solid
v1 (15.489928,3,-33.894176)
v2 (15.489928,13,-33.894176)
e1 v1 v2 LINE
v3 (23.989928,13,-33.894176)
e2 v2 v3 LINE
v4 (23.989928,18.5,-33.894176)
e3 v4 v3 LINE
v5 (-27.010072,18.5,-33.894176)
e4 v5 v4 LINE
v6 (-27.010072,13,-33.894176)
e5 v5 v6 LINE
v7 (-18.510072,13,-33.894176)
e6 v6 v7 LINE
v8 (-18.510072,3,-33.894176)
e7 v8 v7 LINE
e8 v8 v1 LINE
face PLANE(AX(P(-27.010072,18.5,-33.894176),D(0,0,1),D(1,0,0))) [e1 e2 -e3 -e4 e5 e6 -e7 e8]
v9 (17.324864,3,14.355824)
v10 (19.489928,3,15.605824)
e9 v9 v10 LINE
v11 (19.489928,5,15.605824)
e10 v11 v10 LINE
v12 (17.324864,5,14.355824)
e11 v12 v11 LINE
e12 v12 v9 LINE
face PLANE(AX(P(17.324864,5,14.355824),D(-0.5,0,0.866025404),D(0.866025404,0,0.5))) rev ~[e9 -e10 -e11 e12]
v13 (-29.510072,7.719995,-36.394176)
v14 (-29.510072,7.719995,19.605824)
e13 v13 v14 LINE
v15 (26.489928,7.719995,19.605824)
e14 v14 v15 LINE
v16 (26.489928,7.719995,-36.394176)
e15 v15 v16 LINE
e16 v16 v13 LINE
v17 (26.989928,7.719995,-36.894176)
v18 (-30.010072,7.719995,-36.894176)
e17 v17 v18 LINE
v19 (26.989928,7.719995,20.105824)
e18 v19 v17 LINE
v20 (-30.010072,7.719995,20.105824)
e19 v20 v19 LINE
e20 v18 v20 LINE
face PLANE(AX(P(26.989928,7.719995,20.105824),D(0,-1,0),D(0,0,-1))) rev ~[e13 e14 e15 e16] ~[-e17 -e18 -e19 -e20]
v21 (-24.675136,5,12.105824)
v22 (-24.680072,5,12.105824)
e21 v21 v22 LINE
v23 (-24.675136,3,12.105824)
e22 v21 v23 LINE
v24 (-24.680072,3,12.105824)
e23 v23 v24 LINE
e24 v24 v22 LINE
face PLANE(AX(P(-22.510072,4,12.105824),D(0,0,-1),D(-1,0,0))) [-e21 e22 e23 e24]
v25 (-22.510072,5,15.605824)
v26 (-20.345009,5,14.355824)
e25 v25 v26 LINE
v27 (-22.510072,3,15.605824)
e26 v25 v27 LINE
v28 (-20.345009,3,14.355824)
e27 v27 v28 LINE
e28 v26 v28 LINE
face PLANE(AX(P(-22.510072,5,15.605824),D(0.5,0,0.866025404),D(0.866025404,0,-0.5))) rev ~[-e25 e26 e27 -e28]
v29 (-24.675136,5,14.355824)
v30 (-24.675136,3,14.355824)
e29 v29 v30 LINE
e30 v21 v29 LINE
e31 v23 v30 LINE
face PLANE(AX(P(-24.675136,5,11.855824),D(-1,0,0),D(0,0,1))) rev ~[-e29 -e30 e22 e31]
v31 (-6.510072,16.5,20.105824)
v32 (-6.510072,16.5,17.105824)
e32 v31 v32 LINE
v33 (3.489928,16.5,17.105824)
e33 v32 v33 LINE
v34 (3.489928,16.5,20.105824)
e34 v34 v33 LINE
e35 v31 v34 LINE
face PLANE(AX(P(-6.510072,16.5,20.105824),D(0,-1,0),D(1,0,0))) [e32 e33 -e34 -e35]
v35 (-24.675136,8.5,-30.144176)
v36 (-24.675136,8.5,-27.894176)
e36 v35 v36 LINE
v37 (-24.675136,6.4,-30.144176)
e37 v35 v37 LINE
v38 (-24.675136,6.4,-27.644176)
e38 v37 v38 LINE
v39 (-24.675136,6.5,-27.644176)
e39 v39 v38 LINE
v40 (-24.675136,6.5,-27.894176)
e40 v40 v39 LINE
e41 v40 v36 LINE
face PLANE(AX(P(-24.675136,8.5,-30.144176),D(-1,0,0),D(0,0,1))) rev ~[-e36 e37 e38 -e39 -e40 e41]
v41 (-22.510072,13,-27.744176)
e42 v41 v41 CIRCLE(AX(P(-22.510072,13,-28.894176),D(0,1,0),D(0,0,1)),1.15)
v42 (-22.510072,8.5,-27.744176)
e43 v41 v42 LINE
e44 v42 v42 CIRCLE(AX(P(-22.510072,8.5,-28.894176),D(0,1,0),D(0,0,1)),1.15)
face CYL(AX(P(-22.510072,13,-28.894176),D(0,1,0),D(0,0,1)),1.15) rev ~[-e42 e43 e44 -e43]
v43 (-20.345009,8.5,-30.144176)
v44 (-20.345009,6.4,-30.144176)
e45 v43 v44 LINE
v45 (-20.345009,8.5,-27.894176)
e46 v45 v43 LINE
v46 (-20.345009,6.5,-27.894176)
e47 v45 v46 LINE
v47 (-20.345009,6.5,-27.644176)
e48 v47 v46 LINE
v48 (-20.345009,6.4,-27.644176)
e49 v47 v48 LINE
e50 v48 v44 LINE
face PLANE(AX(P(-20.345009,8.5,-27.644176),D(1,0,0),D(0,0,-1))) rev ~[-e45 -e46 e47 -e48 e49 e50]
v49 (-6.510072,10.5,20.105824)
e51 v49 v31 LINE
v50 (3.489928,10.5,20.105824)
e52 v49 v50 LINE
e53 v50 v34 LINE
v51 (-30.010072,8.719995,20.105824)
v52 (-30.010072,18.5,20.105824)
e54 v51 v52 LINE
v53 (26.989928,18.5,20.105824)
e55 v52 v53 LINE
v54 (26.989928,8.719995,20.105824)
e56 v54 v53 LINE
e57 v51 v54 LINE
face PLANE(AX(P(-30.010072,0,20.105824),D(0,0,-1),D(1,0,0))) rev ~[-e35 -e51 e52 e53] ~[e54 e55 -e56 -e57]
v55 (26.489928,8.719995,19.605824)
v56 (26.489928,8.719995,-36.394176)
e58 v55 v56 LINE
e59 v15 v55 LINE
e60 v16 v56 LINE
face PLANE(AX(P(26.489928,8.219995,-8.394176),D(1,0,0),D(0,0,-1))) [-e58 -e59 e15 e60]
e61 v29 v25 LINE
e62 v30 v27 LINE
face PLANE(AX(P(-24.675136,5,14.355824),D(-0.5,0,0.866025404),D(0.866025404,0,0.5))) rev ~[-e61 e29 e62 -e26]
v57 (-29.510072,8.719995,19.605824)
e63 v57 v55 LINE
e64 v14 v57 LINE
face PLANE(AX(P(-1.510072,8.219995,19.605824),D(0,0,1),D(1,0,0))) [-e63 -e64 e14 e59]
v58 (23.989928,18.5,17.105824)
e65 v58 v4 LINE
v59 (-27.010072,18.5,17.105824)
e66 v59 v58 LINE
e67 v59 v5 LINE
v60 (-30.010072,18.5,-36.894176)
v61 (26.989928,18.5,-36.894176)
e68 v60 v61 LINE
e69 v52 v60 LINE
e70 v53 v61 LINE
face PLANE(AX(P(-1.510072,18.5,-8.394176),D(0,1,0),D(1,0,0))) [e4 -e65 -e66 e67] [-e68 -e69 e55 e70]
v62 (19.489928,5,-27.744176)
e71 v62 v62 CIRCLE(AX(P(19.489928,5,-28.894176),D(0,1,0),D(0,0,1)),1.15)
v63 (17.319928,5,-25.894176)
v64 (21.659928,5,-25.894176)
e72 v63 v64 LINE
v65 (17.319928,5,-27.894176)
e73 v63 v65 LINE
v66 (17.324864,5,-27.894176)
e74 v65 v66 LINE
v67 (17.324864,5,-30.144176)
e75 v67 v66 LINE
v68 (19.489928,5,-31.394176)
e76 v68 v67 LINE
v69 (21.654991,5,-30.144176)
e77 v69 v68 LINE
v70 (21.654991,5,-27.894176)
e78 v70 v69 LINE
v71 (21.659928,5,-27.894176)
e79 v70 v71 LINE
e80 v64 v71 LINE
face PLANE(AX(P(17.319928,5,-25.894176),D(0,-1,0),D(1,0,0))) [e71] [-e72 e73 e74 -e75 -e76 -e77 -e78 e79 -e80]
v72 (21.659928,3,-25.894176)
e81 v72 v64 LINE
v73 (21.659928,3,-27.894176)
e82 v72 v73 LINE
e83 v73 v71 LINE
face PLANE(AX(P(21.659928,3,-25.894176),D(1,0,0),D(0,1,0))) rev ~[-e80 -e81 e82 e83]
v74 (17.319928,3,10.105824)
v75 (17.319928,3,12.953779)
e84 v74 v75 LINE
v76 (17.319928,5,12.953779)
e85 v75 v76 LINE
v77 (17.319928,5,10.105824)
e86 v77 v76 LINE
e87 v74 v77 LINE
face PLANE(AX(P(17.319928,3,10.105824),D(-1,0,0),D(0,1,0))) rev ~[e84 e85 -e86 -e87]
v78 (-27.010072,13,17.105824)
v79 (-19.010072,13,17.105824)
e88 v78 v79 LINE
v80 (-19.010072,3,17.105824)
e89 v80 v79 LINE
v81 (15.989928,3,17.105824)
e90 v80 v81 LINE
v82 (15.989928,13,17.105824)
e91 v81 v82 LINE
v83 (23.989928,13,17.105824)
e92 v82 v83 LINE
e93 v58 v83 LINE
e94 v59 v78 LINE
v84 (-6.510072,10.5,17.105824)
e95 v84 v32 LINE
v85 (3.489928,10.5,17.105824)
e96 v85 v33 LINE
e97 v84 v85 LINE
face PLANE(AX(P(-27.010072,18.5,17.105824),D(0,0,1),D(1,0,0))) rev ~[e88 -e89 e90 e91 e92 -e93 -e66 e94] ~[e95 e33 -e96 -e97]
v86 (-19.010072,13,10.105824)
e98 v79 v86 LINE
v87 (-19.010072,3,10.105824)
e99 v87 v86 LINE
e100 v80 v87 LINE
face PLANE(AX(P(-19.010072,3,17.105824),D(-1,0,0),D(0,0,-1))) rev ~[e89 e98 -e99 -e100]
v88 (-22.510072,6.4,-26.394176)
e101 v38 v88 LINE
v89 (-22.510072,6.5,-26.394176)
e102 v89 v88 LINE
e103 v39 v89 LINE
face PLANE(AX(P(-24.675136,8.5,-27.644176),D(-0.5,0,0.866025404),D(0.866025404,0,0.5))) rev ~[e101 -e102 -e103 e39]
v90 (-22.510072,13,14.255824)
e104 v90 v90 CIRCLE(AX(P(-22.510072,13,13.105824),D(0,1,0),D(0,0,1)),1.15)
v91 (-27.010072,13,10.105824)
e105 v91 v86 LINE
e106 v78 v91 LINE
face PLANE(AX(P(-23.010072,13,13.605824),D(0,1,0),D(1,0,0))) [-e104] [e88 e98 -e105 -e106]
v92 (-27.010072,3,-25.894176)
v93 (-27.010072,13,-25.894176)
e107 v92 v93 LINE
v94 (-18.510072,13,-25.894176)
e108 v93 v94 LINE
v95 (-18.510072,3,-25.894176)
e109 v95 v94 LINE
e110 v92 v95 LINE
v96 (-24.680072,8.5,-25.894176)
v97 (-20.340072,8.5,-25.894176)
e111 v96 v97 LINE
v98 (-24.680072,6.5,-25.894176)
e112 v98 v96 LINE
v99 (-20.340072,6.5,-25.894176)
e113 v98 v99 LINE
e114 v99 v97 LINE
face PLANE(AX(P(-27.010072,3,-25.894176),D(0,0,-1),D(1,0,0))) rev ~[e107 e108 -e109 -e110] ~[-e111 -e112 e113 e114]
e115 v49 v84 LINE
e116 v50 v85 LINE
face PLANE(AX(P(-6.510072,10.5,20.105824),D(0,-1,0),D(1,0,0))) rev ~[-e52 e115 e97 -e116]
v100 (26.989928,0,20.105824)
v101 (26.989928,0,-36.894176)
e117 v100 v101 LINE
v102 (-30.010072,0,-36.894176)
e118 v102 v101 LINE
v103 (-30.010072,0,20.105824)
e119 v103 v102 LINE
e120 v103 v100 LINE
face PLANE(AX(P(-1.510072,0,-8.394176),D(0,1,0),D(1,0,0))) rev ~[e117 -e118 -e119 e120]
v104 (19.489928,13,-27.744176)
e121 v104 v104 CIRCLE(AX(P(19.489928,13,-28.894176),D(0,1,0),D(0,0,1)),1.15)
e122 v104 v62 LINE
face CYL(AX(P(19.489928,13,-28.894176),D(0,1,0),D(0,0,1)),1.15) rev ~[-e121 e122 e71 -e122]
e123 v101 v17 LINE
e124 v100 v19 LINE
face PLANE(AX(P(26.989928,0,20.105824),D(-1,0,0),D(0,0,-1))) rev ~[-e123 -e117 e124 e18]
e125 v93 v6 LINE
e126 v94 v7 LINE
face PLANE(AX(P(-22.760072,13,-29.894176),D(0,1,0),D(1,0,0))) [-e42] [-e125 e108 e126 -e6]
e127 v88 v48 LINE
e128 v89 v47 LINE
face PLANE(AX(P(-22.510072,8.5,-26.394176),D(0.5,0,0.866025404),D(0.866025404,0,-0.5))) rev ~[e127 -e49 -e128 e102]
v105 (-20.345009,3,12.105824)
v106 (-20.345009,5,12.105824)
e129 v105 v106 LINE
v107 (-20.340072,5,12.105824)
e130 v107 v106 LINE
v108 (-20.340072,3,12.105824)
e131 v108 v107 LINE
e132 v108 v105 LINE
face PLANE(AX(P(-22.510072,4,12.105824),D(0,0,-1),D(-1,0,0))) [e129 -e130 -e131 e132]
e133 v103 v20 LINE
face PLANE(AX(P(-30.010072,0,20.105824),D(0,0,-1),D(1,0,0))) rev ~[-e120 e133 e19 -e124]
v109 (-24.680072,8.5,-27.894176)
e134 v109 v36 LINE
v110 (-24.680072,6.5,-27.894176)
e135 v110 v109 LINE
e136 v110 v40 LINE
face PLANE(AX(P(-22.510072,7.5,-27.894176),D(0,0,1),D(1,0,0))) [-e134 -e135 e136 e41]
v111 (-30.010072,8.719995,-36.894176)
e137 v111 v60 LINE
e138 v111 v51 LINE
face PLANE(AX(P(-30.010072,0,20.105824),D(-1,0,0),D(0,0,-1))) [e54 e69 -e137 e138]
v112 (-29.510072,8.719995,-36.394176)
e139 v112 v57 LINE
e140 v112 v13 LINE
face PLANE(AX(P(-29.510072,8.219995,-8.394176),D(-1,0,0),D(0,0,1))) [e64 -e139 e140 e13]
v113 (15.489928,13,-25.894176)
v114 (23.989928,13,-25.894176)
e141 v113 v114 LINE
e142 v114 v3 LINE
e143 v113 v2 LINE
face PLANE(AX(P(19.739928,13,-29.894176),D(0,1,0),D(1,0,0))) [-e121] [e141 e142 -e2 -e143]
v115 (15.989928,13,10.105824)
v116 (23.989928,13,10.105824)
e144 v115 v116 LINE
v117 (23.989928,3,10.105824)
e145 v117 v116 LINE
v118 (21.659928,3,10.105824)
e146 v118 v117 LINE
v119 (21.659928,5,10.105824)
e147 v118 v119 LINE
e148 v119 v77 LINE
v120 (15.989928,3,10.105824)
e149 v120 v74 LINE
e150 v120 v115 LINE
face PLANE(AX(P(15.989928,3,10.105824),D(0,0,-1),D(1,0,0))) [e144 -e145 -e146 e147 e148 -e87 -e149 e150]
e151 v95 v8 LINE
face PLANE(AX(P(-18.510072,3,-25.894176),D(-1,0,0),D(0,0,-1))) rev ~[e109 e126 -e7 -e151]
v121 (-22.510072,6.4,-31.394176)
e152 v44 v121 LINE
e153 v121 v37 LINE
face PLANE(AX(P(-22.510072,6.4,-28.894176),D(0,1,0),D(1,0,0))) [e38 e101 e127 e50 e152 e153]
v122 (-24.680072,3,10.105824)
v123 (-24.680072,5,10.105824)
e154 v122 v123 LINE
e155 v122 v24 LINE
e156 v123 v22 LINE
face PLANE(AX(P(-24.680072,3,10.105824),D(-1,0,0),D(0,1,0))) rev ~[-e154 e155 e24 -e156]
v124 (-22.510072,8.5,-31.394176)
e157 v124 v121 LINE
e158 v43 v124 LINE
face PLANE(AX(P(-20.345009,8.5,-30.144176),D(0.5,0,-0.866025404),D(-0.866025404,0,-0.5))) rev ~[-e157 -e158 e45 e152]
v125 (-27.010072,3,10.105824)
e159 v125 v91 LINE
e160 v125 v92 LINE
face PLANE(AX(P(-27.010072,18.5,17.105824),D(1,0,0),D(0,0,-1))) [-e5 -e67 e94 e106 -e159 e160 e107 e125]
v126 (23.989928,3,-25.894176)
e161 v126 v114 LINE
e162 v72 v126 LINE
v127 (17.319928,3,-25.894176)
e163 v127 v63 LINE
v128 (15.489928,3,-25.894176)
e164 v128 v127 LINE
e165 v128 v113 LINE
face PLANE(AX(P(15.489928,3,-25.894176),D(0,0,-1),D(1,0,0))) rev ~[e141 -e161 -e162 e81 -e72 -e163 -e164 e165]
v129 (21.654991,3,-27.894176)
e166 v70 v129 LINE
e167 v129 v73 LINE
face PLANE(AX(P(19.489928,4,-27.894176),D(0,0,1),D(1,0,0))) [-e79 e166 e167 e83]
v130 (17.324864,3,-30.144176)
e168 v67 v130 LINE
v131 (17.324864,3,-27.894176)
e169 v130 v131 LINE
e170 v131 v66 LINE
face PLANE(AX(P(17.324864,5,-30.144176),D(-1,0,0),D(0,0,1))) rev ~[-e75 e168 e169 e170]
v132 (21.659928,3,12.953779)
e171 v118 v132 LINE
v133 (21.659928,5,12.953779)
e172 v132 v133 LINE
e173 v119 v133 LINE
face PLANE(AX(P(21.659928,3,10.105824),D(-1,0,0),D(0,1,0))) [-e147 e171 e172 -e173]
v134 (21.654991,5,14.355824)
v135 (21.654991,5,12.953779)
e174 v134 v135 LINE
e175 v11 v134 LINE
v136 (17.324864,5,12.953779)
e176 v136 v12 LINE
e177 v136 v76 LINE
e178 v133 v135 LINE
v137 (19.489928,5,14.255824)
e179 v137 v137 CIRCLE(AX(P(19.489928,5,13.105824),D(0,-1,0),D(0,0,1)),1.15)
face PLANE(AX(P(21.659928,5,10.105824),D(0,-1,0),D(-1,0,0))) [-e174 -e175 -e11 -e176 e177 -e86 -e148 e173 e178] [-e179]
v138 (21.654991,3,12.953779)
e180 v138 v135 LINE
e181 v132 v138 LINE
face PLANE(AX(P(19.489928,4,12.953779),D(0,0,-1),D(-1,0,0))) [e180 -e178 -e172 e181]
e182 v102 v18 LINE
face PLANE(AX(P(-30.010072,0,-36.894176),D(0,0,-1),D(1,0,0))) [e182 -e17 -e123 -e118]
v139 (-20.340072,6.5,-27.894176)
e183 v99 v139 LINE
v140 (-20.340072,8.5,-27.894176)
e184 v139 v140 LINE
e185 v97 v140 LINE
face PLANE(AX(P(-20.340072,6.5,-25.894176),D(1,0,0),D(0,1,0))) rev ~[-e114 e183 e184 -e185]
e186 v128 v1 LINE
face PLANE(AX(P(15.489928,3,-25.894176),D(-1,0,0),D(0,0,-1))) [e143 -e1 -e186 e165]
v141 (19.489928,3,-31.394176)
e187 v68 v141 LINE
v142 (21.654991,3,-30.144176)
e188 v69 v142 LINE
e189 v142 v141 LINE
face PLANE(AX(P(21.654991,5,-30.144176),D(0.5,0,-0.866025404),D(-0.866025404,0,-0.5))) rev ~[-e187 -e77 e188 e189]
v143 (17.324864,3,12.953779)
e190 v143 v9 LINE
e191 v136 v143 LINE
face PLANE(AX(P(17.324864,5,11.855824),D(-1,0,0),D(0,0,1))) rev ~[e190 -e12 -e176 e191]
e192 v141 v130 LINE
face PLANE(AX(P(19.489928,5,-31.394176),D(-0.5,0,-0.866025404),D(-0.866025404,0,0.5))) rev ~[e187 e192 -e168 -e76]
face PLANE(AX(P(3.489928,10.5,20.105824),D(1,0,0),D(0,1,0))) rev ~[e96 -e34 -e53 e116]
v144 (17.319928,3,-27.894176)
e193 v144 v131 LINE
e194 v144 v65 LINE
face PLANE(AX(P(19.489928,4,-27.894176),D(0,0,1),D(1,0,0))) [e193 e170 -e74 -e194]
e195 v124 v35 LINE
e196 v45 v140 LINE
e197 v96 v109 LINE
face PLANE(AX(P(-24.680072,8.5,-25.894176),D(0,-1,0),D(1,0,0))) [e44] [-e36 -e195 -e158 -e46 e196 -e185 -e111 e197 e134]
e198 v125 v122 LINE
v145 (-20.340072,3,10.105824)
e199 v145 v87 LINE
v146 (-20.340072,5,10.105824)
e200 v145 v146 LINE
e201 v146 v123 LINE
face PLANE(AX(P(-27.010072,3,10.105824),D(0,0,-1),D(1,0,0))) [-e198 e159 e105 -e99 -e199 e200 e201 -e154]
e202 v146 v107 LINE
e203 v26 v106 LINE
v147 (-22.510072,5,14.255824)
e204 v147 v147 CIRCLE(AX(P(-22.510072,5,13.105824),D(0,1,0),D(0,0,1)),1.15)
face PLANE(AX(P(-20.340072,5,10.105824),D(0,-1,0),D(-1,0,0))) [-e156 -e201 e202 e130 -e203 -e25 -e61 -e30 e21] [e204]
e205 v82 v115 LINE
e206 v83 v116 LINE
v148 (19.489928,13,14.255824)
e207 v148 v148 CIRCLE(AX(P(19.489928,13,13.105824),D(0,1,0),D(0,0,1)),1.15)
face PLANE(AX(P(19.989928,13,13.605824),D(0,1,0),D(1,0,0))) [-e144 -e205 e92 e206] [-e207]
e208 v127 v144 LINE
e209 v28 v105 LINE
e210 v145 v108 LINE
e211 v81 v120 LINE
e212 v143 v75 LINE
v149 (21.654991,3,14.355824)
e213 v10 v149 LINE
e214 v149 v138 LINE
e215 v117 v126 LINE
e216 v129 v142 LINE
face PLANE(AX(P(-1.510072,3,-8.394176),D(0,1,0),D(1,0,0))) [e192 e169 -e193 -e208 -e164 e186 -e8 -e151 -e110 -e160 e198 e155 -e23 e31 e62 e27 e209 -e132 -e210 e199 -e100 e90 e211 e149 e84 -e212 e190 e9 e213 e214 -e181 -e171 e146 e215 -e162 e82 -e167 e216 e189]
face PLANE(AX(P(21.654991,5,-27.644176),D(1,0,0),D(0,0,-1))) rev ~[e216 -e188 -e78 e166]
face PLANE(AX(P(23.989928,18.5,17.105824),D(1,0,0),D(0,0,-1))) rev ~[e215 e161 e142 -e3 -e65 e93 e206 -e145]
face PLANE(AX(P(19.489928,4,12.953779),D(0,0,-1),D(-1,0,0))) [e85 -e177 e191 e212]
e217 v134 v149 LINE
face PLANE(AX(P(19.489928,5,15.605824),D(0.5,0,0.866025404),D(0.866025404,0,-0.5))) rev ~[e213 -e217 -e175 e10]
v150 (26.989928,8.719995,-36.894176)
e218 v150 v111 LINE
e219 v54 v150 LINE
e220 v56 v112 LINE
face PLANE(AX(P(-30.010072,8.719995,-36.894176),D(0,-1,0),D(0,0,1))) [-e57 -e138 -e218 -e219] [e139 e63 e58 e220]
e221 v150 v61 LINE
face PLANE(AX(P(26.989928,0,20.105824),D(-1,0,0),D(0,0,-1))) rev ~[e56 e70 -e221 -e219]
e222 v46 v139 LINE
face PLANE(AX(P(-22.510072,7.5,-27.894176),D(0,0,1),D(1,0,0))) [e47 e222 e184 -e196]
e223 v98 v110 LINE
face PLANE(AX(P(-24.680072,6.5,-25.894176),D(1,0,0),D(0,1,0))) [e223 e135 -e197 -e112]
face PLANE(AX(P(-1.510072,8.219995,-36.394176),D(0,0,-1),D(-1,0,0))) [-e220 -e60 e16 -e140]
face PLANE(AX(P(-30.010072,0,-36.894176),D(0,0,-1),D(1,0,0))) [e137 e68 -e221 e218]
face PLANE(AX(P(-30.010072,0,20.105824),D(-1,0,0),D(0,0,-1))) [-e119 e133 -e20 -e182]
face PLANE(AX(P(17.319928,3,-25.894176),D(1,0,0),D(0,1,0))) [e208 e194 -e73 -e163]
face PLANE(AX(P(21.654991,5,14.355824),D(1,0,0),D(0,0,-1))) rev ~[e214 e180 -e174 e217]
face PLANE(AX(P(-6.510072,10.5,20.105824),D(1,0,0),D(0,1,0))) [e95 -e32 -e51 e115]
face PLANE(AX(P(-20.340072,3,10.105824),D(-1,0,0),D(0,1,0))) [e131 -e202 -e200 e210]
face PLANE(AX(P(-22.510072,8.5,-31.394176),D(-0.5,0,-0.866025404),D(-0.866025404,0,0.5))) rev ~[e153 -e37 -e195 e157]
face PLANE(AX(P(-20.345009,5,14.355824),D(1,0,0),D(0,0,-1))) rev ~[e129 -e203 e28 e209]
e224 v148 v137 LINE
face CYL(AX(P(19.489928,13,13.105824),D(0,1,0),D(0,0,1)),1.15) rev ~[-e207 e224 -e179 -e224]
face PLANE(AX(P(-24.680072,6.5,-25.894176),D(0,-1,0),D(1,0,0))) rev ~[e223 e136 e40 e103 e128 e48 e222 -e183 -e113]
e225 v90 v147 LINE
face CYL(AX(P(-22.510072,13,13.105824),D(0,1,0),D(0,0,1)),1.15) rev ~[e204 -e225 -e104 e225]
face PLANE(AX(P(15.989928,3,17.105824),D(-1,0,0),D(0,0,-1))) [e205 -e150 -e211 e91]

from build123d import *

# Parameters (mm, degrees)
ESQUISSE1_W              = 57
ESQUISSE1_H              = 57
BOSS_EXTRU_1_DEPTH       = 18.5
ESQUISSE2_W              = 51
ESQUISSE2_H              = 51
ENL_V_MAT_EXTRU_1_DEPTH  = 15.5
ESQUISSE4_W              = 8.5
ESQUISSE4_H              = 8
BOSS_EXTRU_2_DEPTH       = 10
ESQUISSE5_W              = 8.5
ESQUISSE5_H              = 8
BOSS_EXTRU_3_DEPTH       = 10
ESQUISSE6_W              = 8
ESQUISSE6_H              = 7
BOSS_EXTRU_4_DEPTH       = 10
ESQUISSE7_W              = 8
ESQUISSE7_H              = 7
BOSS_EXTRU_5_DEPTH       = 10
ESQUISSE8_R              = 1.15
ENL_V_MAT_EXTRU_2_DEPTH  = 10
ESQUISSE9_R              = 1.15
ENL_V_MAT_EXTRU_3_DEPTH  = 10
ESQUISSE16_R             = 1.15
ENL_V_MAT_EXTRU_9_DEPTH  = 6.6
ESQUISSE17_R             = 1.15
ENL_V_MAT_EXTRU_10_DEPTH = 10
ESQUISSE21_W             = 10
ESQUISSE21_H             = 6
ENL_V_MAT_EXTRU_14_DEPTH = 3
ENL_V_START              = -8
ENL_V_MAT_EXTRU_18_DEPTH = 2
ENL_V_MAT_EXTRU_20_DEPTH = 2
ESQUISSE26_W             = 4.34
ESQUISSE26_H             = 2
ENL_V_MAT_EXTRU_21_DEPTH = 2.847955181
ENL_V_START_2            = -4.5
ENL_V_MAT_EXTRU_22_DEPTH = 2.1
ENL_V_MAT_EXTRU_24_DEPTH = 2
ESQUISSE23_W             = 4.34
ESQUISSE23_H             = 2
ENL_V_MAT_EXTRU_26_DEPTH = 2
ESQUISSE31_W             = 4.34
ESQUISSE31_H             = 2
ENL_V_MAT_EXTRU_27_DEPTH = 2
ESQUISSE30_W             = 4.34
ESQUISSE30_H             = 2
ENL_V_MAT_EXTRU_28_DEPTH = 2
ESQUISSE32_W             = 57
ESQUISSE32_H             = 1
ENL_V_MAT_EXTRU_29_DEPTH = 0.5
ESQUISSE33_W             = 57
ESQUISSE33_H             = 1
ENL_V_MAT_EXTRU_30_DEPTH = 0.5
ESQUISSE34_W             = 57
ESQUISSE34_H             = 1
ENL_V_MAT_EXTRU_31_DEPTH = 0.5
ESQUISSE35_W             = 57
ESQUISSE35_H             = 1
ENL_V_MAT_EXTRU_32_DEPTH = 0.5


with BuildPart() as part:
    # Esquisse1 → Boss.-Extru.1 (new body)
    with BuildSketch(Plane(origin=(0, 0, 0), x_dir=(1, 0, 0), z_dir=(0, 1, 0))):
        with Locations((-1.510072399, 8.394175698)):
            Rectangle(ESQUISSE1_W, ESQUISSE1_H)
    extrude(amount=BOSS_EXTRU_1_DEPTH)

    # Esquisse2 → Enlèv. mat.-Extru.1 (cut)
    with BuildSketch(Plane(origin=(0, 18.5, 0), x_dir=(1, 0, 0), z_dir=(0, 1, 0))):
        with Locations((-1.510072399, 8.394175698)):
            Rectangle(ESQUISSE2_W, ESQUISSE2_H)
    extrude(amount=-ENL_V_MAT_EXTRU_1_DEPTH, mode=Mode.SUBTRACT)

    # Esquisse4 → Boss.-Extru.2 (add)
    with BuildSketch(Plane(origin=(0, 3, 0), x_dir=(1, 0, 0), z_dir=(0, 1, 0))):
        with Locations((-22.760072399, 29.894175698)):
            Rectangle(ESQUISSE4_W, ESQUISSE4_H)
    extrude(amount=BOSS_EXTRU_2_DEPTH)

    # Esquisse5 → Boss.-Extru.3 (add)
    with BuildSketch(Plane(origin=(0, 3, 0), x_dir=(1, 0, 0), z_dir=(0, 1, 0))):
        with Locations((19.739927601, 29.894175698)):
            Rectangle(ESQUISSE5_W, ESQUISSE5_H)
    extrude(amount=BOSS_EXTRU_3_DEPTH)

    # Esquisse6 → Boss.-Extru.4 (add)
    with BuildSketch(Plane(origin=(0, 3, 0), x_dir=(1, 0, 0), z_dir=(0, 1, 0))):
        with Locations((19.989927601, -13.605824302)):
            Rectangle(ESQUISSE6_W, ESQUISSE6_H)
    extrude(amount=BOSS_EXTRU_4_DEPTH)

    # Esquisse7 → Boss.-Extru.5 (add)
    with BuildSketch(Plane(origin=(0, 3, 0), x_dir=(1, 0, 0), z_dir=(0, 1, 0))):
        with Locations((-23.010072399, -13.605824302)):
            Rectangle(ESQUISSE7_W, ESQUISSE7_H)
    extrude(amount=BOSS_EXTRU_5_DEPTH)

    # Esquisse8 → Enlèv. mat.-Extru.2 (cut)
    with BuildSketch(Plane(origin=(0, 13, 0), x_dir=(1, 0, 0), z_dir=(0, 1, 0))):
        with Locations(Location((19.489927601, -13.105824302, 0), (0, 0, 270))):
            Circle(ESQUISSE8_R)
    extrude(amount=-ENL_V_MAT_EXTRU_2_DEPTH, mode=Mode.SUBTRACT)

    # Esquisse9 → Enlèv. mat.-Extru.3 (cut)
    with BuildSketch(Plane(origin=(0, 13, 0), x_dir=(1, 0, 0), z_dir=(0, 1, 0))):
        with Locations(Location((-22.510072399, -13.105824302, 0), (0, 0, 270))):
            Circle(ESQUISSE9_R)
    extrude(amount=-ENL_V_MAT_EXTRU_3_DEPTH, mode=Mode.SUBTRACT)

    # Esquisse16 → Enlèv. mat.-Extru.9 (cut)
    with BuildSketch(Plane(origin=(0, 13, 0), x_dir=(1, 0, 0), z_dir=(0, 1, 0))):
        with Locations(Location((-22.510072399, 28.894175698, 0), (0, 0, 270))):
            Circle(ESQUISSE16_R)
    extrude(amount=-ENL_V_MAT_EXTRU_9_DEPTH, mode=Mode.SUBTRACT)

    # Esquisse17 → Enlèv. mat.-Extru.10 (cut)
    with BuildSketch(Plane(origin=(0, 13, 0), x_dir=(1, 0, 0), z_dir=(0, 1, 0))):
        with Locations(Location((19.489927601, 28.894175698, 0), (0, 0, 270))):
            Circle(ESQUISSE17_R)
    extrude(amount=-ENL_V_MAT_EXTRU_10_DEPTH, mode=Mode.SUBTRACT)

    # Esquisse21 → Enlèv. mat.-Extru.14 (cut)
    with BuildSketch(Plane.XY.offset(20.105824302)):
        with Locations((-1.510072399, 13.5)):
            Rectangle(ESQUISSE21_W, ESQUISSE21_H)
    extrude(amount=-ENL_V_MAT_EXTRU_14_DEPTH, mode=Mode.SUBTRACT)

    # Esquisse24 → Enlèv. mat.-Extru.18 (cut)
    with BuildSketch(Plane(origin=(0, 13, 0), x_dir=(1, 0, 0), z_dir=(0, 1, 0)).offset(ENL_V_START)):
        Polygon((19.489927601, 26.394175698), (21.65499111, 27.644175698), (21.65499111, 30.144175698), (19.489927601, 31.394175698), (17.324864091, 30.144175698), (17.324864091, 27.644175698), align=None)
    extrude(amount=-ENL_V_MAT_EXTRU_18_DEPTH, mode=Mode.SUBTRACT)

    # Esquisse25 → Enlèv. mat.-Extru.20 (cut)
    with BuildSketch(Plane(origin=(0, 13, 0), x_dir=(1, 0, 0), z_dir=(0, 1, 0)).offset(ENL_V_START)):
        Polygon((17.324864091, -11.855824302), (17.324864091, -14.355824302), (19.489927601, -15.605824302), (21.65499111, -14.355824302), (21.65499111, -11.855824302), (19.489927601, -10.605824302), align=None)
    extrude(amount=-ENL_V_MAT_EXTRU_20_DEPTH, mode=Mode.SUBTRACT)

    # Esquisse26 → Enlèv. mat.-Extru.21 (cut)
    with BuildSketch(Plane(origin=(0, 0, 10.105824302), x_dir=(-1, 0, 0), z_dir=(0, 0, -1))):
        with Locations((-19.489927601, 4)):
            Rectangle(ESQUISSE26_W, ESQUISSE26_H)
    extrude(amount=-ENL_V_MAT_EXTRU_21_DEPTH, mode=Mode.SUBTRACT)

    # Esquisse27 → Enlèv. mat.-Extru.22 (cut)
    with BuildSketch(Plane(origin=(0, 13, 0), x_dir=(1, 0, 0), z_dir=(0, 1, 0)).offset(ENL_V_START_2)):
        Polygon((-20.34500889, 27.644175698), (-20.34500889, 30.144175698), (-22.510072399, 31.394175698), (-24.675135909, 30.144175698), (-24.675135909, 27.644175698), (-22.510072399, 26.394175698), align=None)
    extrude(amount=-ENL_V_MAT_EXTRU_22_DEPTH, mode=Mode.SUBTRACT)

    # Esquisse29 → Enlèv. mat.-Extru.24 (cut)
    with BuildSketch(Plane(origin=(0, 13, 0), x_dir=(1, 0, 0), z_dir=(0, 1, 0)).offset(ENL_V_START)):
        Polygon((-20.34500889, -11.855824302), (-22.510072399, -10.605824302), (-24.675135909, -11.855824302), (-24.675135909, -14.355824302), (-22.510072399, -15.605824302), (-20.34500889, -14.355824302), align=None)
    extrude(amount=-ENL_V_MAT_EXTRU_24_DEPTH, mode=Mode.SUBTRACT)

    # Esquisse23 → Enlèv. mat.-Extru.26 (cut)
    with BuildSketch(Plane.XY.offset(-25.894175698)):
        with Locations((19.489927601, 4)):
            Rectangle(ESQUISSE23_W, ESQUISSE23_H)
    extrude(amount=-ENL_V_MAT_EXTRU_26_DEPTH, mode=Mode.SUBTRACT)

    # Esquisse31 → Enlèv. mat.-Extru.27 (cut)
    with BuildSketch(Plane.XY.offset(-25.894175698)):
        with Locations((-22.510072399, 7.5)):
            Rectangle(ESQUISSE31_W, ESQUISSE31_H)
    extrude(amount=-ENL_V_MAT_EXTRU_27_DEPTH, mode=Mode.SUBTRACT)

    # Esquisse30 → Enlèv. mat.-Extru.28 (cut)
    with BuildSketch(Plane(origin=(0, 0, 10.105824302), x_dir=(-1, 0, 0), z_dir=(0, 0, -1))):
        with Locations((22.510072399, 4)):
            Rectangle(ESQUISSE30_W, ESQUISSE30_H)
    extrude(amount=-ENL_V_MAT_EXTRU_28_DEPTH, mode=Mode.SUBTRACT)

    # Esquisse32 → Enlèv. mat.-Extru.29 (cut)
    with BuildSketch(Plane.ZY.offset(30.010072399)):
        with Locations((-8.394175698, 8.219994516)):
            Rectangle(ESQUISSE32_W, ESQUISSE32_H)
    extrude(amount=-ENL_V_MAT_EXTRU_29_DEPTH, mode=Mode.SUBTRACT)

    # Esquisse33 → Enlèv. mat.-Extru.30 (cut)
    with BuildSketch(Plane.XY.offset(20.105824302)):
        with Locations((-1.510072399, 8.219994516)):
            Rectangle(ESQUISSE33_W, ESQUISSE33_H)
    extrude(amount=-ENL_V_MAT_EXTRU_30_DEPTH, mode=Mode.SUBTRACT)

    # Esquisse34 → Enlèv. mat.-Extru.31 (cut)
    with BuildSketch(Plane(origin=(26.989927601, 0, 0), x_dir=(0, 0, -1), z_dir=(1, 0, 0))):
        with Locations((8.394175698, 8.219994516)):
            Rectangle(ESQUISSE34_W, ESQUISSE34_H)
    extrude(amount=-ENL_V_MAT_EXTRU_31_DEPTH, mode=Mode.SUBTRACT)

    # Esquisse35 → Enlèv. mat.-Extru.32 (cut)
    with BuildSketch(Plane(origin=(0, 0, -36.894175698), x_dir=(-1, 0, 0), z_dir=(0, 0, -1))):
        with Locations((1.510072399, 8.219994516)):
            Rectangle(ESQUISSE35_W, ESQUISSE35_H)
    extrude(amount=-ENL_V_MAT_EXTRU_32_DEPTH, mode=Mode.SUBTRACT)


solid = part.part
